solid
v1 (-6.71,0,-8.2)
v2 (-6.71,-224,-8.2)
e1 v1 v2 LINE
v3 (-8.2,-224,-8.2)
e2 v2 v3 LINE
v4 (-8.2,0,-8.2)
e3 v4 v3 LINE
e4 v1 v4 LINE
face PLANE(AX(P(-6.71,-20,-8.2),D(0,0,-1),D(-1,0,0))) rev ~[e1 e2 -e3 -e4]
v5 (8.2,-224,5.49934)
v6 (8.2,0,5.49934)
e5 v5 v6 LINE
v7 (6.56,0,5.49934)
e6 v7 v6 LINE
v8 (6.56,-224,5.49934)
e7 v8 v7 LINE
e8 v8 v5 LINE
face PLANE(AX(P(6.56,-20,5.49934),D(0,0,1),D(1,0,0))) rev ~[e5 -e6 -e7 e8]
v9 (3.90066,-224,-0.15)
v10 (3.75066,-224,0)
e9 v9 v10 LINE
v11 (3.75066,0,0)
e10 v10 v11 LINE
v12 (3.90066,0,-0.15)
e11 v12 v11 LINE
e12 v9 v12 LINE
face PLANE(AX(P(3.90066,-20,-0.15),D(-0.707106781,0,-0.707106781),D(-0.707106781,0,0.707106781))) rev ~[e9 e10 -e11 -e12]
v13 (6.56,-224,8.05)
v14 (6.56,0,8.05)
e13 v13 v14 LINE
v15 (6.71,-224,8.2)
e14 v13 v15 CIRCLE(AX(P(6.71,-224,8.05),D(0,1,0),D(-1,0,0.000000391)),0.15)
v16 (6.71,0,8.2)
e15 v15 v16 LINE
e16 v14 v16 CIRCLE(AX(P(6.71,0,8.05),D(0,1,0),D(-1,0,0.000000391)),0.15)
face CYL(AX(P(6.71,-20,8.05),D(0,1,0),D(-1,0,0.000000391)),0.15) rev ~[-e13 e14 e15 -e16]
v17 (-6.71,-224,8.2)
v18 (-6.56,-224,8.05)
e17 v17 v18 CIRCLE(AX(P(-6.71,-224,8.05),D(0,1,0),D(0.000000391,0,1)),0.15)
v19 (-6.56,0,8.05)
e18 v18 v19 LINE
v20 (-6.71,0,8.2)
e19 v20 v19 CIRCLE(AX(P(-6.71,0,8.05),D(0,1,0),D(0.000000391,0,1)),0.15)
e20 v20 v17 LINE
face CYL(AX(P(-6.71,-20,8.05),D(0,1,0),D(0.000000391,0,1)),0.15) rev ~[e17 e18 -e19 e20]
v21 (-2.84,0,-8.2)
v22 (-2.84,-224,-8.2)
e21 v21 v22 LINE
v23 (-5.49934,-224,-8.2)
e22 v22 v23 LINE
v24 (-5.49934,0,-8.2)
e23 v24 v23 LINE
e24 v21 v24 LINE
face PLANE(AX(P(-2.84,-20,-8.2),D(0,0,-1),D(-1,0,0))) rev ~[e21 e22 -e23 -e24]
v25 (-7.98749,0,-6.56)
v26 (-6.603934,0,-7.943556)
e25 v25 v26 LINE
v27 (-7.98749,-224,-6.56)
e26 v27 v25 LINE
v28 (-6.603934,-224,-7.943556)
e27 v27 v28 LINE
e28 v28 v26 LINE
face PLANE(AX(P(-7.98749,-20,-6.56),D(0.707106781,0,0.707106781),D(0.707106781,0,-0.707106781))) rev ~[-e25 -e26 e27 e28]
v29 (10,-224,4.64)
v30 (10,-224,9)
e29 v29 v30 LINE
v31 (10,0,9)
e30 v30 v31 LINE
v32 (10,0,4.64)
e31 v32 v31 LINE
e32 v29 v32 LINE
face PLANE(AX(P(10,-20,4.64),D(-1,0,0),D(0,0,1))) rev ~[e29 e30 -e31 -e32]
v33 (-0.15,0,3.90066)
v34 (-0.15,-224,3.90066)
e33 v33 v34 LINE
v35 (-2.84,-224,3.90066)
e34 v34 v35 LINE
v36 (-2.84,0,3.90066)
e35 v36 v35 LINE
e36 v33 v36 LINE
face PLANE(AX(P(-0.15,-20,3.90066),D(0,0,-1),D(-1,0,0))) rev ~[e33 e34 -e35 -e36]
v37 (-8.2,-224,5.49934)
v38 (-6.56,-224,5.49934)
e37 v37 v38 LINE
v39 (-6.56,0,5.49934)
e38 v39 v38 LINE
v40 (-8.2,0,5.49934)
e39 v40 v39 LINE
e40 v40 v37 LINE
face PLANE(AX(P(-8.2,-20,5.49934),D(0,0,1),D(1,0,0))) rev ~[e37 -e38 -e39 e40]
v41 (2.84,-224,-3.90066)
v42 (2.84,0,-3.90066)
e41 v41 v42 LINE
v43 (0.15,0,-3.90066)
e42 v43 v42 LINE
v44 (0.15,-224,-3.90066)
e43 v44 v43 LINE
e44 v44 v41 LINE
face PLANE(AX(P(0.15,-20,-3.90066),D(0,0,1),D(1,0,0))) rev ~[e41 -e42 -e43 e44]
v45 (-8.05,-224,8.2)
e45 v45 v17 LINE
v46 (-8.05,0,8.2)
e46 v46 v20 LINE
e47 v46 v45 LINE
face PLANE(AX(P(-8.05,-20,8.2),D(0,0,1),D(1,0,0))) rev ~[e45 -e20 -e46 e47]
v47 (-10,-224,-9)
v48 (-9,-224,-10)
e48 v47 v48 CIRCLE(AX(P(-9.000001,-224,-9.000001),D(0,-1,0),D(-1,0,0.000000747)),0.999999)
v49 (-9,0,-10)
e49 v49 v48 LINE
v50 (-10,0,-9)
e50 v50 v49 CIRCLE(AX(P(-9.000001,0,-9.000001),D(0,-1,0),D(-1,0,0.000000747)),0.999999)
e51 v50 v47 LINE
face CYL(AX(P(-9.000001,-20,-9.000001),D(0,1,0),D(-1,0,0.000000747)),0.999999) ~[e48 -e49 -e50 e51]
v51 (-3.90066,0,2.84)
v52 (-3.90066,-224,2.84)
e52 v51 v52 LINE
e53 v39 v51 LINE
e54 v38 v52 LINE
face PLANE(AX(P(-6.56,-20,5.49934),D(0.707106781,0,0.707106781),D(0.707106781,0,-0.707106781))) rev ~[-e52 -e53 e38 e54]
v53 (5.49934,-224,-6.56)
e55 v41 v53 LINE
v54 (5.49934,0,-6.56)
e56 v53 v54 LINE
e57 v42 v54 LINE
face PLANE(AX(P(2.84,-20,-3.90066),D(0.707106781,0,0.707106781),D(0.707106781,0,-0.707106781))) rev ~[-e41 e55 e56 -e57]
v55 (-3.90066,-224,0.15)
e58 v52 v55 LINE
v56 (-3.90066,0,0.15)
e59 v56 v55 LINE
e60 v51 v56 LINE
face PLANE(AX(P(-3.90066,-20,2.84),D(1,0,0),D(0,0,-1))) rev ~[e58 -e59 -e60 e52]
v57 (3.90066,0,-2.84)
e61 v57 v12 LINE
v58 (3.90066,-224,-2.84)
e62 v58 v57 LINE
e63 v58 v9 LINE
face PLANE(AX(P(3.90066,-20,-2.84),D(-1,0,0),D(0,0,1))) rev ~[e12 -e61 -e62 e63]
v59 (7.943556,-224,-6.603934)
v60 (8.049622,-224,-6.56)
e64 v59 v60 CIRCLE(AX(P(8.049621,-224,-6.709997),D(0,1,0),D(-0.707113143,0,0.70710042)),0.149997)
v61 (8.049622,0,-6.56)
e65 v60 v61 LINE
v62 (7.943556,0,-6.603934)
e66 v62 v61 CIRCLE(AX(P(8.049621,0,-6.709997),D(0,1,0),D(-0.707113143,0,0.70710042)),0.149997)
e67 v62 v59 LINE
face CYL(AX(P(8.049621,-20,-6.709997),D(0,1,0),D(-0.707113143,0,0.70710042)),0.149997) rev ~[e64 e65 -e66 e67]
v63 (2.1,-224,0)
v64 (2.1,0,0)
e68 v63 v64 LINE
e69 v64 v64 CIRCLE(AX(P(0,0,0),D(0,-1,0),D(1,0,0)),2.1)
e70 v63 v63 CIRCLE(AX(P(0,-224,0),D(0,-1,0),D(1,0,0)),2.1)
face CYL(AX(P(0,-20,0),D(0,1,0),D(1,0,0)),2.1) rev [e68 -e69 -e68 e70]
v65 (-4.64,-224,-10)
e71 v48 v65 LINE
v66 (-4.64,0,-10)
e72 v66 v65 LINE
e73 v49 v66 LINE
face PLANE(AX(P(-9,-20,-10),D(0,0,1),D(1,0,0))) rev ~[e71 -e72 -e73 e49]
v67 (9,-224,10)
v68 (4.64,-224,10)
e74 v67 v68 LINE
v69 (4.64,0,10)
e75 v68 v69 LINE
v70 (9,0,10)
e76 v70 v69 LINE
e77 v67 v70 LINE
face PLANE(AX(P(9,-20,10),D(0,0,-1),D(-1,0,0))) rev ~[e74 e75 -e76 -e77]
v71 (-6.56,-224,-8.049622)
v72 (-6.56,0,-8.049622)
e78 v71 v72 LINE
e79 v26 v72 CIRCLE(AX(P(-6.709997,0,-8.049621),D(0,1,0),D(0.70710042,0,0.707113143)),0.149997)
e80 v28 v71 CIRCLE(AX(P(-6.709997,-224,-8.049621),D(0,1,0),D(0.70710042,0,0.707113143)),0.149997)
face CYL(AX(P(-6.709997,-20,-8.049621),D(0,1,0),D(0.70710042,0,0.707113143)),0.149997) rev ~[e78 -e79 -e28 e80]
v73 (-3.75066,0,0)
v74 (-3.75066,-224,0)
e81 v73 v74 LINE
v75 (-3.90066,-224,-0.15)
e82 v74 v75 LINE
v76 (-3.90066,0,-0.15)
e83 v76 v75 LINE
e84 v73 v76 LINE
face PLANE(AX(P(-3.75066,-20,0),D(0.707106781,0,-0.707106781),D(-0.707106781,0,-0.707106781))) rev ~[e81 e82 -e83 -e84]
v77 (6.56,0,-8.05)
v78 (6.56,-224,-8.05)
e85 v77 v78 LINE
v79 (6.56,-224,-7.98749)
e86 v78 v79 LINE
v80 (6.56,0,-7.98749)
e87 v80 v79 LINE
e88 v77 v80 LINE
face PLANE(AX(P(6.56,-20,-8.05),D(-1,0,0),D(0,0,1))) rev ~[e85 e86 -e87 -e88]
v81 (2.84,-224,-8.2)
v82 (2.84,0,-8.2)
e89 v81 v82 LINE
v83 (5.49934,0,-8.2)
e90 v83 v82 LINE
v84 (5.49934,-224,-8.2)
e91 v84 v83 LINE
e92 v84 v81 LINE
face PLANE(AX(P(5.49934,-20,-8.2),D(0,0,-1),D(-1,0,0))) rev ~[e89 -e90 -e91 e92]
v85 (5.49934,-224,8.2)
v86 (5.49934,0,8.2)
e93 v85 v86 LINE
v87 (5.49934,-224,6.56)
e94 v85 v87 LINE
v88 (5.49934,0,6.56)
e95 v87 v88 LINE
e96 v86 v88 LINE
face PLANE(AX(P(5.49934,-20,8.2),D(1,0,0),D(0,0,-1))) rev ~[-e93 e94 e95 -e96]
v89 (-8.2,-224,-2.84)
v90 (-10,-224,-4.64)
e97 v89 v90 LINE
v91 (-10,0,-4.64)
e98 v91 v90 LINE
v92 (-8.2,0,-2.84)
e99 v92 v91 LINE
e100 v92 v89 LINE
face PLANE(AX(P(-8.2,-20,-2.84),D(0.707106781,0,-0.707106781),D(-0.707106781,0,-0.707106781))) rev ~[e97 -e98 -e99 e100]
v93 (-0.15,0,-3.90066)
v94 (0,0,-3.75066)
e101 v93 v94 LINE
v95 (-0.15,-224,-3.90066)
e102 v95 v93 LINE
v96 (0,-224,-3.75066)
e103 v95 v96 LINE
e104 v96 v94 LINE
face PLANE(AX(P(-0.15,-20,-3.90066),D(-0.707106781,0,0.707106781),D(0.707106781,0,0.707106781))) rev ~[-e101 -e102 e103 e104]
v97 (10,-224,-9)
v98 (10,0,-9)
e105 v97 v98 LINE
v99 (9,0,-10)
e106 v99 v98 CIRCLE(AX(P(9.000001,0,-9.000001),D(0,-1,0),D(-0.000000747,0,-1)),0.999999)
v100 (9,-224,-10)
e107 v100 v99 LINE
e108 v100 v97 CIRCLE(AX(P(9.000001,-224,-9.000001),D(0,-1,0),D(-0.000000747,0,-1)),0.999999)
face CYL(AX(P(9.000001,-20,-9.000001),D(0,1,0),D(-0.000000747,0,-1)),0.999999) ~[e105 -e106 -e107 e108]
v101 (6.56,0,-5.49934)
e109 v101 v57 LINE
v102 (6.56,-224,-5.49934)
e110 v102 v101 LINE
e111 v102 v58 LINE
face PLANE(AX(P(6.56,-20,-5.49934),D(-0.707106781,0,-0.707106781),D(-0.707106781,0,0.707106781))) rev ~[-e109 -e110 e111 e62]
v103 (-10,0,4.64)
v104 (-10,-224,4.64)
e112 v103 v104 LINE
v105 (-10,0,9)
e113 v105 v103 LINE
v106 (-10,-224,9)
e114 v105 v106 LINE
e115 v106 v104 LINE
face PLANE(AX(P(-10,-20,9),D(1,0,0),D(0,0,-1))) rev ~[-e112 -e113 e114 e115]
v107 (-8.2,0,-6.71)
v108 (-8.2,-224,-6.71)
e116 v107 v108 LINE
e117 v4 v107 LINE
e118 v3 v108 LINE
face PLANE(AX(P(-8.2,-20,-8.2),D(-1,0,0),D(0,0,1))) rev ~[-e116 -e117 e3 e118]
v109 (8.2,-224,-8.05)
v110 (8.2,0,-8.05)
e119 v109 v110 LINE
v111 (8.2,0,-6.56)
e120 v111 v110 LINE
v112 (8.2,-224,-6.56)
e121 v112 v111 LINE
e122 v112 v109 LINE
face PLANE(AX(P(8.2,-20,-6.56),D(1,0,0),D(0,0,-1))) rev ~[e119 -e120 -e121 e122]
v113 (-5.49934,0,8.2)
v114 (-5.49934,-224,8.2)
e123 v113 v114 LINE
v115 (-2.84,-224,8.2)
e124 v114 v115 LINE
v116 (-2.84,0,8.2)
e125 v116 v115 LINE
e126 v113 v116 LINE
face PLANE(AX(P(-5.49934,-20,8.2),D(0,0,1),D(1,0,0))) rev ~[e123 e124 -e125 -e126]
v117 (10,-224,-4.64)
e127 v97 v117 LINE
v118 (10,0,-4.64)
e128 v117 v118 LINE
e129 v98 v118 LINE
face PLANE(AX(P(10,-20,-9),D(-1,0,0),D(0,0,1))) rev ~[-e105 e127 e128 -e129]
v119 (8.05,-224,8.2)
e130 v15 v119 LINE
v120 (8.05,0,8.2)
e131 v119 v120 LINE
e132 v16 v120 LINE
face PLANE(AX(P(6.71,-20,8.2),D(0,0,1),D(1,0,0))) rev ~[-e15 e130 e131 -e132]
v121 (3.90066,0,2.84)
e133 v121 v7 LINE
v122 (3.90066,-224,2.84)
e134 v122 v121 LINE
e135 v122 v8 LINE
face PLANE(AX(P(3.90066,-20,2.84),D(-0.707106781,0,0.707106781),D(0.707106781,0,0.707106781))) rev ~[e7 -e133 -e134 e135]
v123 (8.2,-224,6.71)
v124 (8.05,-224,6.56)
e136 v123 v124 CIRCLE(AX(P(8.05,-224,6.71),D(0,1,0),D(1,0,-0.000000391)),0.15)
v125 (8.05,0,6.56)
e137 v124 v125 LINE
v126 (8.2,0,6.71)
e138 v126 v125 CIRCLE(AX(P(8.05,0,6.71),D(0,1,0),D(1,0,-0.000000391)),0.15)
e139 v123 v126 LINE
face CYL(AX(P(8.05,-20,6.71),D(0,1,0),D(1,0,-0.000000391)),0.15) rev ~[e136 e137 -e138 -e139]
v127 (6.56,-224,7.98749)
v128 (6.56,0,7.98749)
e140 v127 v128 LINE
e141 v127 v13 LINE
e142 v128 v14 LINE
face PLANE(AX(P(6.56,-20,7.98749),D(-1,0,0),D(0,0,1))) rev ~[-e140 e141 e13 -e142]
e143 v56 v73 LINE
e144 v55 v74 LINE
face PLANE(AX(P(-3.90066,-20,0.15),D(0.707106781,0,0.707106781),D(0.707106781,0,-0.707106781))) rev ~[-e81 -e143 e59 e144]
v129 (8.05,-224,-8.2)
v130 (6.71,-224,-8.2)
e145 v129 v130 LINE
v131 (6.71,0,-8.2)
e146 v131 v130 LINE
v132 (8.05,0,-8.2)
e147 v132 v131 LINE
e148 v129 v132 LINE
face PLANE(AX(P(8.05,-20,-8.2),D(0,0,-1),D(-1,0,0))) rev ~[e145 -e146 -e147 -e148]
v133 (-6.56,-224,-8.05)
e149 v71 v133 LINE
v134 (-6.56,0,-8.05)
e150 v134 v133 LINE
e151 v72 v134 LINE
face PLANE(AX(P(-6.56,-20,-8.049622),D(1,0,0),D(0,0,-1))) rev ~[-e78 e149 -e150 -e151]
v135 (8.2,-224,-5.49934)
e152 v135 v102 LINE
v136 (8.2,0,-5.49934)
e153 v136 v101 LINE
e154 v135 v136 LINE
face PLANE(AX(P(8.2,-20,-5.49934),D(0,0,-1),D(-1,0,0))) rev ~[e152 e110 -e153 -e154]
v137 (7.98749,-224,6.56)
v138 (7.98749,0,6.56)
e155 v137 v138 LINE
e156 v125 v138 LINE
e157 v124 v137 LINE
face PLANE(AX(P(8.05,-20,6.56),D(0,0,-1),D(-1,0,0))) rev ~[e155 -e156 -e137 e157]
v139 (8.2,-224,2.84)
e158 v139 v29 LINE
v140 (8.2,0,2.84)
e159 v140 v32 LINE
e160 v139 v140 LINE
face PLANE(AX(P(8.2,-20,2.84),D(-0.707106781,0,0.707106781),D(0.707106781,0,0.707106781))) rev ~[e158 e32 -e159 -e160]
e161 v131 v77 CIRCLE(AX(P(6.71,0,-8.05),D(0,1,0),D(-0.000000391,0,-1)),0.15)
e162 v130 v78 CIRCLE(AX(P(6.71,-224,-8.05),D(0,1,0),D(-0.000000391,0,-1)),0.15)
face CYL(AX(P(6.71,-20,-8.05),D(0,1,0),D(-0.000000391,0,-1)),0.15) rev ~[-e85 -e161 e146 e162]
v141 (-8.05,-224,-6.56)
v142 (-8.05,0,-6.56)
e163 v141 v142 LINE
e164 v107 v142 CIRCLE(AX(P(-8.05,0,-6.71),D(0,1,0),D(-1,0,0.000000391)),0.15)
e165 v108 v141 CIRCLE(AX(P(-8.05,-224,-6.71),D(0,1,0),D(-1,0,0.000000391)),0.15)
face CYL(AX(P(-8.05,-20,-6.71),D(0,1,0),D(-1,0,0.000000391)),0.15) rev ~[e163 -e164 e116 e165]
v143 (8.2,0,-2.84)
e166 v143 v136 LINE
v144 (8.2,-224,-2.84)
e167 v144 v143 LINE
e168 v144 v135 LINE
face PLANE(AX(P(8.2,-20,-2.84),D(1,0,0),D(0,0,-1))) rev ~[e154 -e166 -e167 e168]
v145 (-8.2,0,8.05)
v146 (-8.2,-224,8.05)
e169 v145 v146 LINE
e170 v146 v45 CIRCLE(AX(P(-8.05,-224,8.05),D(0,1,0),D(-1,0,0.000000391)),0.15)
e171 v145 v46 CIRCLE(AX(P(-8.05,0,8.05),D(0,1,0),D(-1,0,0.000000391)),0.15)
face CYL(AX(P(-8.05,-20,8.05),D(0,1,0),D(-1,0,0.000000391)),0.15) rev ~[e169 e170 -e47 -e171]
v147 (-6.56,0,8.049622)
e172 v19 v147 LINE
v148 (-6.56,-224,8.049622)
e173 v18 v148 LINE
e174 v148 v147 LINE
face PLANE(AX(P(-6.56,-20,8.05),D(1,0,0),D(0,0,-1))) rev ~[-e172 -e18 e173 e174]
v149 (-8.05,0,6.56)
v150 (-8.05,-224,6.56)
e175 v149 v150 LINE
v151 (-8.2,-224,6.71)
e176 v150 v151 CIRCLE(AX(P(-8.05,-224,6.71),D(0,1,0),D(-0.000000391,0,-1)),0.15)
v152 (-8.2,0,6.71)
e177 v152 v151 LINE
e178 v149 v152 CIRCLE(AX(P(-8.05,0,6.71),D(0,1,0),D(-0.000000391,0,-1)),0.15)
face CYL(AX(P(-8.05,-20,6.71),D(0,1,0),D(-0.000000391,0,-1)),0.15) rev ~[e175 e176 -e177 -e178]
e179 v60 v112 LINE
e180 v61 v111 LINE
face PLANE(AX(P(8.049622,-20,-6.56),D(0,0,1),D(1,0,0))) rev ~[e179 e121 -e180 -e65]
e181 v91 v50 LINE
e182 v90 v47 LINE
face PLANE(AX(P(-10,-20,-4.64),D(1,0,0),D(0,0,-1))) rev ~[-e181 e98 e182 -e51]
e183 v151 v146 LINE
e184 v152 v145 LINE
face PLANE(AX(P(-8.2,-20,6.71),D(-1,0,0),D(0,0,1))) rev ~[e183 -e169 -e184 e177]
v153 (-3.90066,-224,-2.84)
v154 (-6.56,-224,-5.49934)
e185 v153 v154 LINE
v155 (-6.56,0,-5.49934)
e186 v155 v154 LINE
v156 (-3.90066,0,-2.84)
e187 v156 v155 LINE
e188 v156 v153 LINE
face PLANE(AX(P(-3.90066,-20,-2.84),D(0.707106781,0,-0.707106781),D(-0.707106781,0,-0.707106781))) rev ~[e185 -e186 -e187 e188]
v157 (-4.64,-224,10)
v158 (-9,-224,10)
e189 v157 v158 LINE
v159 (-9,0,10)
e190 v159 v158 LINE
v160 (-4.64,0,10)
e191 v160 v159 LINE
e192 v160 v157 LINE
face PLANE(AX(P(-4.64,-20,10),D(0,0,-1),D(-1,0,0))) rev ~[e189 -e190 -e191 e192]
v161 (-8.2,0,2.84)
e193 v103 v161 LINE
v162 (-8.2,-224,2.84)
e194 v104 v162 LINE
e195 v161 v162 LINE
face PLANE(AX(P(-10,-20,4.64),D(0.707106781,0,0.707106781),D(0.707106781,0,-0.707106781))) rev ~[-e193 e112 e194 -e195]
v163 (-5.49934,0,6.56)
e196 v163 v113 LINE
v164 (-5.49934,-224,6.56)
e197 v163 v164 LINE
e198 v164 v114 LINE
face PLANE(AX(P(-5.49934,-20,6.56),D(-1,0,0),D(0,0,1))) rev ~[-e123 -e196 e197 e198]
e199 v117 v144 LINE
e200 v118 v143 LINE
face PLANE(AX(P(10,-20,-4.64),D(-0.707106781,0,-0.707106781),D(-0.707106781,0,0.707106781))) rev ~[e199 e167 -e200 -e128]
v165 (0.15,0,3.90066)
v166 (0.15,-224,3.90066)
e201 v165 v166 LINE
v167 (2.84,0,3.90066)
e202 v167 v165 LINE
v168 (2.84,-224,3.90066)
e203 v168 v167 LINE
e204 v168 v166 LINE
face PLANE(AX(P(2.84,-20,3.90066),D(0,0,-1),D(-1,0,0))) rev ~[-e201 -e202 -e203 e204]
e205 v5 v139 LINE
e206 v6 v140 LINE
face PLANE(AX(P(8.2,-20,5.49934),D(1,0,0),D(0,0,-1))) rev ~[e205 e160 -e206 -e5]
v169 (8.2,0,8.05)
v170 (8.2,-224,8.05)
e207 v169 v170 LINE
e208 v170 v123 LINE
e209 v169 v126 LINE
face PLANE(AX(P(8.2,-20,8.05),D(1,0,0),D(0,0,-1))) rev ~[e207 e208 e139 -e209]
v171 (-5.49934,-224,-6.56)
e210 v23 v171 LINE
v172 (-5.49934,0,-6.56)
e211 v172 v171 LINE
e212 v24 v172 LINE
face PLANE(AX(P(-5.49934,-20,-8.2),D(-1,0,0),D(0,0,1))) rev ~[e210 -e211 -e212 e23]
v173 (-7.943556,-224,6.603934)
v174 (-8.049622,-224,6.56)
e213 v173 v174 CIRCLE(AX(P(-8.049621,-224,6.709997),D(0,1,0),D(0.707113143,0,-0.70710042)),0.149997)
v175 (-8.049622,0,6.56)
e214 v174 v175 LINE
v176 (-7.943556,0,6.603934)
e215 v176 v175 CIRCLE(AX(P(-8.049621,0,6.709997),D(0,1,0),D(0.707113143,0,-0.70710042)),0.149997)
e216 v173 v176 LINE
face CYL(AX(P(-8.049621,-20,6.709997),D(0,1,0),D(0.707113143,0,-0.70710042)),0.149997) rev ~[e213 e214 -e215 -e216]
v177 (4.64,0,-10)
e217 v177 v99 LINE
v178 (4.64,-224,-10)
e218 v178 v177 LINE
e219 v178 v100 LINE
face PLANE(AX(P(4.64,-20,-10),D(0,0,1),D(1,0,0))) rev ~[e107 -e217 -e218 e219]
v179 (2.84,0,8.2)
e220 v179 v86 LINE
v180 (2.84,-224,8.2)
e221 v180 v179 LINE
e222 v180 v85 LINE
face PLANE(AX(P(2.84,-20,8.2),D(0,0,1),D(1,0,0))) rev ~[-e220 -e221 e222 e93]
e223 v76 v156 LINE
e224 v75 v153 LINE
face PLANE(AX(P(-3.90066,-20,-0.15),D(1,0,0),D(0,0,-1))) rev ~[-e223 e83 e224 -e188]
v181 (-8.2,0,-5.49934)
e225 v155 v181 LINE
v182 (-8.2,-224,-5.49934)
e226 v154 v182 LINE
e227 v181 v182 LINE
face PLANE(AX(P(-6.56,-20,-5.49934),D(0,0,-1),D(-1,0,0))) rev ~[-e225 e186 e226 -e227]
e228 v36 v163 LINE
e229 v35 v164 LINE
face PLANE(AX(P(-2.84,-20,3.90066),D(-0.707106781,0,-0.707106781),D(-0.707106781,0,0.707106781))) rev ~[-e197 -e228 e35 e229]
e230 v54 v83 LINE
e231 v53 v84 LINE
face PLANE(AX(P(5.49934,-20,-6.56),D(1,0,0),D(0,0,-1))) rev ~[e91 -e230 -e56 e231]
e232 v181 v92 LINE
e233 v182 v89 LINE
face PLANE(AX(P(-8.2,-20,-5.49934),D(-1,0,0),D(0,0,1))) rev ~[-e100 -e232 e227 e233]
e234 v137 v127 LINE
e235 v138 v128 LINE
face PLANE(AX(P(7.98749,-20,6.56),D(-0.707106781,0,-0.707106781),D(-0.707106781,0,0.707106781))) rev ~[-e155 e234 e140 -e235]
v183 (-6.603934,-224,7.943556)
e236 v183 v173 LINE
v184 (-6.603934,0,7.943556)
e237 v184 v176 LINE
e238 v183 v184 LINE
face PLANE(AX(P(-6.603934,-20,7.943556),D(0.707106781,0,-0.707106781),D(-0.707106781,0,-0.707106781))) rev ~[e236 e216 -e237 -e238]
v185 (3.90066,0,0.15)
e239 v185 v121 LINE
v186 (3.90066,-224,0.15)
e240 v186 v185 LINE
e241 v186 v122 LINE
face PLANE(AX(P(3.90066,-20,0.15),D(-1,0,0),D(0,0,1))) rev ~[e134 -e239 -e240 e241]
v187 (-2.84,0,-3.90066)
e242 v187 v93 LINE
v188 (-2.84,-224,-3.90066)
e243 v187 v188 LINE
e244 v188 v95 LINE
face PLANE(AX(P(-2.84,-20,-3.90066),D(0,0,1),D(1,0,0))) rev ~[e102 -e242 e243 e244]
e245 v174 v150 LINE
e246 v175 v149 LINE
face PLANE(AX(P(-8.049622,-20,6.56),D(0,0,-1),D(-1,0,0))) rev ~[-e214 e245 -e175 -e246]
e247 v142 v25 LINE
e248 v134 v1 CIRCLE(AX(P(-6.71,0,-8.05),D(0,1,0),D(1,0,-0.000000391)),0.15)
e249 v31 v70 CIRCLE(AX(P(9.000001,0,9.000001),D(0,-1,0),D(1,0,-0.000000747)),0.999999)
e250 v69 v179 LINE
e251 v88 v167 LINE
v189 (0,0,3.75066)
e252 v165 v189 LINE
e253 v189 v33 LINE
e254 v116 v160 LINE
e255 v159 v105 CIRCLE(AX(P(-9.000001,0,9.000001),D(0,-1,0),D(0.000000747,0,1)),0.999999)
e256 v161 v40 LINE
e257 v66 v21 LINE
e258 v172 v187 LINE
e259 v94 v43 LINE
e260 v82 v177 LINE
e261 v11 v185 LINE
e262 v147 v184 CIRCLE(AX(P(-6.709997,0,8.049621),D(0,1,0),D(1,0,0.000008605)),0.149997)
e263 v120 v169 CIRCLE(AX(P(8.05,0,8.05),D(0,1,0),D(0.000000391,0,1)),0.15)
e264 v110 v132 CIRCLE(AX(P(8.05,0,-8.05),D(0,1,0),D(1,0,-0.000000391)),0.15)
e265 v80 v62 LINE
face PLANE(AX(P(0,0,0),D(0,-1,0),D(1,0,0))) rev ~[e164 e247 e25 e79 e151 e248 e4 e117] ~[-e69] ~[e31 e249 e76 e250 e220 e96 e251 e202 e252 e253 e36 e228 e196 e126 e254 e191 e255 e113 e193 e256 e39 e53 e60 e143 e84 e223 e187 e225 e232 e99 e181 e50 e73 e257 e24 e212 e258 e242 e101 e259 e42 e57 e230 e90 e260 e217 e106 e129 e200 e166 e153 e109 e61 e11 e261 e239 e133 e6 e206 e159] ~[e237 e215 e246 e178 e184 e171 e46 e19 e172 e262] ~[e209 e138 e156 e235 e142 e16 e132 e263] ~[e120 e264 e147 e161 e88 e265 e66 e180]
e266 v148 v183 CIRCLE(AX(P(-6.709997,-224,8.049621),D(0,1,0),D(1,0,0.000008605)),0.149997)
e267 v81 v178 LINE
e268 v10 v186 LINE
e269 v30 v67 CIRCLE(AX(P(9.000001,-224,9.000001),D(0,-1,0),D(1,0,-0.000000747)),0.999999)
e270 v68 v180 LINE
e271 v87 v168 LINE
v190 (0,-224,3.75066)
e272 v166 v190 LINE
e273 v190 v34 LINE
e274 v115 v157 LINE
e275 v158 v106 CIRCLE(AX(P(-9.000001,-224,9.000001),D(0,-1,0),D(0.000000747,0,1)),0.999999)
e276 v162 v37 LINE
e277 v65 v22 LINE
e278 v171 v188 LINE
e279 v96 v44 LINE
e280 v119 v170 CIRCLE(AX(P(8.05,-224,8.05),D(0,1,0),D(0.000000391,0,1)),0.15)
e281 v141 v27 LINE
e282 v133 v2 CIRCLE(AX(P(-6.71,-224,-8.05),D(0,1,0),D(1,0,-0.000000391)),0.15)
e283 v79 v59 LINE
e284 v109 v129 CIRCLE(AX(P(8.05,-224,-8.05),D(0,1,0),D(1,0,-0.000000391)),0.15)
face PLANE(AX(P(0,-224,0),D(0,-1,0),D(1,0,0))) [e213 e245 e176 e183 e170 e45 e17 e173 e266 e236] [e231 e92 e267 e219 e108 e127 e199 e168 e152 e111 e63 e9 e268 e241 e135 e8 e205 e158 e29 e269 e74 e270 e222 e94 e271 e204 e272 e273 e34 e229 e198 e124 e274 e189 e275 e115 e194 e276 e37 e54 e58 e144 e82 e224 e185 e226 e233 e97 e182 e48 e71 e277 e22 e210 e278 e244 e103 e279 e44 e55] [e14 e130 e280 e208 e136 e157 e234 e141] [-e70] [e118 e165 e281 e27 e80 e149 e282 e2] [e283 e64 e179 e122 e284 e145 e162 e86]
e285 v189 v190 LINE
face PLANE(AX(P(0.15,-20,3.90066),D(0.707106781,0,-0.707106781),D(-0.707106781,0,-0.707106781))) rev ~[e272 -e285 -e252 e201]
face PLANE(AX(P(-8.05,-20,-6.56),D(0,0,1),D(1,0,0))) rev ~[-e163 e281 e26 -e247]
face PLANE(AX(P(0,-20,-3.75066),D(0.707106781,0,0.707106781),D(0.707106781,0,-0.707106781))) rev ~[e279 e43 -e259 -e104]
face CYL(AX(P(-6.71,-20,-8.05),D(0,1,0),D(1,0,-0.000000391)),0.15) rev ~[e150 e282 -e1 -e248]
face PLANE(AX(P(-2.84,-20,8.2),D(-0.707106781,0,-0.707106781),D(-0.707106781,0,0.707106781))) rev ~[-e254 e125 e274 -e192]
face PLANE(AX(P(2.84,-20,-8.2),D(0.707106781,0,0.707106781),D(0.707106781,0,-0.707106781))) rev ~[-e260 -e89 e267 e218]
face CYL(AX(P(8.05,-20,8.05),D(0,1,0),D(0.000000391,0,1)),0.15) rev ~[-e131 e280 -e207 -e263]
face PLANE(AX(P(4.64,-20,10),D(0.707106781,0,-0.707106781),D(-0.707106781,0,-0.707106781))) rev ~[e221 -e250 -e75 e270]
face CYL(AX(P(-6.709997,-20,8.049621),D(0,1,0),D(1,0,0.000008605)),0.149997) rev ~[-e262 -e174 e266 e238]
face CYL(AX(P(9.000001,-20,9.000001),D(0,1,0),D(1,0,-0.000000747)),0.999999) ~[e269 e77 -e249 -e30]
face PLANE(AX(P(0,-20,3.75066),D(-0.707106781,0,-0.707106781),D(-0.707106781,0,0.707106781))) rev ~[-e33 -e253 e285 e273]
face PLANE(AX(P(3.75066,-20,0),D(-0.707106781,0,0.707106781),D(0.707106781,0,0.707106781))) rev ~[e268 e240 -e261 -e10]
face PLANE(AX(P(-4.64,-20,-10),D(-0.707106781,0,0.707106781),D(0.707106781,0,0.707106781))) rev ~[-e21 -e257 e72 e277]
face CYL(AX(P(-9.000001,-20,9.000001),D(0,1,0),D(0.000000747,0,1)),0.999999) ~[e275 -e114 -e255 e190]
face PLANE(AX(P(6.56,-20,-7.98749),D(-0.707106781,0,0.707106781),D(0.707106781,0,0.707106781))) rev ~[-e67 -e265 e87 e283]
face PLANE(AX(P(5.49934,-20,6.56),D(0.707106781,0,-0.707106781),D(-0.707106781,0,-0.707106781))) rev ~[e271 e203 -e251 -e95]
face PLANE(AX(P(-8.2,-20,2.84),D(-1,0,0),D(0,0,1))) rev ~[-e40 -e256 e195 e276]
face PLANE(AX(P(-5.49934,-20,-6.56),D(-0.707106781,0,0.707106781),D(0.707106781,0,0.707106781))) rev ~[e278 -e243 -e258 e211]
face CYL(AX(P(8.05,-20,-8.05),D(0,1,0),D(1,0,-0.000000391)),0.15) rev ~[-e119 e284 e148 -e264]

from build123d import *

# Parameters (mm, degrees)
F0_R      = 2.1
F1_DEPTH  = 20
F1_FACE_R = 2.1
F2_DEPTH  = 204


with BuildPart() as f1:
    # F0 (on Front) → F1 (new body)
    with BuildSketch(Plane.XZ):
        with BuildLine():
            Line((-4.64, 10), (-9, 10))
            ThreePointArc((-9, 10), (-9.707107, 9.707107), (-10, 9))
            Line((-10, 9), (-10, 4.64))
            Line((-10, 4.64), (-8.2, 2.84))
            Line((-8.2, 2.84), (-8.2, 5.49934))
            Line((-8.2, 5.49934), (-6.56, 5.49934))
            Line((-6.56, 5.49934), (-3.90066, 2.84))
            Line((-3.90066, 2.84), (-3.90066, 0.15))
            Line((-3.90066, 0.15), (-3.75066, 0))
            Line((-3.75066, 0), (-3.90066, -0.15))
            Line((-3.90066, -0.15), (-3.90066, -2.84))
            Line((-3.90066, -2.84), (-6.56, -5.49934))
            Line((-6.56, -5.49934), (-8.2, -5.49934))
            Line((-8.2, -5.49934), (-8.2, -2.84))
            Line((-8.2, -2.84), (-10, -4.64))
            Line((-10, -4.64), (-10, -9))
            ThreePointArc((-10, -9), (-9.707107, -9.707107), (-9, -10))
            Line((-9, -10), (-4.64, -10))
            Line((-4.64, -10), (-2.84, -8.2))
            Line((-2.84, -8.2), (-5.49934, -8.2))
            Line((-5.49934, -8.2), (-5.49934, -6.56))
            Line((-5.49934, -6.56), (-2.84, -3.90066))
            Line((-2.84, -3.90066), (-0.15, -3.90066))
            Line((-0.15, -3.90066), (0, -3.75066))
            Line((0, -3.75066), (0.15, -3.90066))
            Line((0.15, -3.90066), (2.84, -3.90066))
            Line((2.84, -3.90066), (5.49934, -6.56))
            Line((5.49934, -6.56), (5.49934, -8.2))
            Line((5.49934, -8.2), (2.84, -8.2))
            Line((2.84, -8.2), (4.64, -10))
            Line((4.64, -10), (9, -10))
            ThreePointArc((9, -10), (9.707107, -9.707107), (10, -9))
            Line((10, -9), (10, -4.64))
            Line((10, -4.64), (8.2, -2.84))
            Line((8.2, -2.84), (8.2, -5.49934))
            Line((8.2, -5.49934), (6.56, -5.49934))
            Line((6.56, -5.49934), (3.90066, -2.84))
            Line((3.90066, -2.84), (3.90066, -0.15))
            Line((3.90066, -0.15), (3.75066, 0))
            Line((3.75066, 0), (3.90066, 0.15))
            Line((3.90066, 0.15), (3.90066, 2.84))
            Line((3.90066, 2.84), (6.56, 5.49934))
            Line((6.56, 5.49934), (8.2, 5.49934))
            Line((8.2, 5.49934), (8.2, 2.84))
            Line((8.2, 2.84), (10, 4.64))
            Line((10, 4.64), (10, 9))
            ThreePointArc((10, 9), (9.707107, 9.707107), (9, 10))
            Line((9, 10), (4.64, 10))
            Line((4.64, 10), (2.84, 8.2))
            Line((2.84, 8.2), (5.49934, 8.2))
            Line((5.49934, 8.2), (5.49934, 6.56))
            Line((5.49934, 6.56), (2.84, 3.90066))
            Line((2.84, 3.90066), (0.15, 3.90066))
            Line((0.15, 3.90066), (0, 3.75066))
            Line((0, 3.75066), (-0.15, 3.90066))
            Line((-0.15, 3.90066), (-2.84, 3.90066))
            Line((-2.84, 3.90066), (-5.49934, 6.56))
            Line((-5.49934, 6.56), (-5.49934, 8.2))
            Line((-5.49934, 8.2), (-2.84, 8.2))
            Line((-2.84, 8.2), (-4.64, 10))
        make_face()
        with BuildLine():
            Line((-8.2, -8.2), (-8.2, -6.71))
            ThreePointArc((-8.2, -6.71), (-8.156066, -6.603934), (-8.05, -6.56))
            Line((-8.05, -6.56), (-7.98749, -6.56))
            Line((-7.98749, -6.56), (-6.603934, -7.943556))
            ThreePointArc((-6.603934, -7.943556), (-6.571418, -7.992219), (-6.56, -8.049622))
            Line((-6.56, -8.049622), (-6.56, -8.05))
            ThreePointArc((-6.56, -8.05), (-6.603934, -8.156066), (-6.71, -8.2))
            Line((-6.71, -8.2), (-8.2, -8.2))
        make_face(mode=Mode.SUBTRACT)
        with BuildLine():
            ThreePointArc((6.71, -8.2), (6.603934, -8.156066), (6.56, -8.05))
            Line((6.56, -8.05), (6.56, -7.98749))
            Line((6.56, -7.98749), (7.943556, -6.603934))
            ThreePointArc((7.943556, -6.603934), (7.992219, -6.571418), (8.049622, -6.56))
            Line((8.049622, -6.56), (8.2, -6.56))
            Line((8.2, -6.56), (8.2, -8.05))
            ThreePointArc((8.2, -8.05), (8.156066, -8.156066), (8.05, -8.2))
            Line((8.05, -8.2), (6.71, -8.2))
        make_face(mode=Mode.SUBTRACT)
        with BuildLine():
            ThreePointArc((-8.2, 8.05), (-8.156066, 8.156066), (-8.05, 8.2))
            Line((-8.05, 8.2), (-6.71, 8.2))
            ThreePointArc((-6.71, 8.2), (-6.603934, 8.156066), (-6.56, 8.05))
            Line((-6.56, 8.05), (-6.56, 8.049622))
            ThreePointArc((-6.56, 8.049622), (-6.571418, 7.992219), (-6.603934, 7.943556))
            Line((-6.603934, 7.943556), (-7.943556, 6.603934))
            ThreePointArc((-7.943556, 6.603934), (-7.992219, 6.571418), (-8.049622, 6.56))
            Line((-8.049622, 6.56), (-8.05, 6.56))
            ThreePointArc((-8.05, 6.56), (-8.156066, 6.603934), (-8.2, 6.71))
            Line((-8.2, 6.71), (-8.2, 8.05))
        make_face(mode=Mode.SUBTRACT)
        Circle(F0_R, mode=Mode.SUBTRACT)
        with BuildLine():
            Line((8.2, 8.05), (8.2, 6.71))
            ThreePointArc((8.2, 6.71), (8.156066, 6.603934), (8.05, 6.56))
            Line((8.05, 6.56), (7.98749, 6.56))
            Line((7.98749, 6.56), (6.56, 7.98749))
            Line((6.56, 7.98749), (6.56, 8.05))
            ThreePointArc((6.56, 8.05), (6.603934, 8.156066), (6.71, 8.2))
            Line((6.71, 8.2), (8.05, 8.2))
            ThreePointArc((8.05, 8.2), (8.156066, 8.156066), (8.2, 8.05))
        make_face(mode=Mode.SUBTRACT)
    extrude(amount=F1_DEPTH)

    # F1_face (on face) → F2 (join)
    with BuildSketch(Plane(origin=(-3.9e-05, -20, 0.000435), x_dir=(1, 0, 0), z_dir=(0, -1, 0))):
        with BuildLine():
            Line((2.840039, 3.900225), (0.150039, 3.900225))
            Line((0.150039, 3.900225), (3.9e-05, 3.750225))
            Line((3.9e-05, 3.750225), (-0.149961, 3.900225))
            Line((-0.149961, 3.900225), (-2.839961, 3.900225))
            Line((-2.839961, 3.900225), (-5.499301, 6.559565))
            Line((-5.499301, 6.559565), (-5.499301, 8.199565))
            Line((-5.499301, 8.199565), (-2.839961, 8.199565))
            Line((-2.839961, 8.199565), (-4.639961, 9.999565))
            Line((-4.639961, 9.999565), (-8.999961, 9.999565))
            ThreePointArc((-8.999961, 9.999565), (-9.707068, 9.706672), (-9.999961, 8.999565))
            Line((-9.999961, 8.999565), (-9.999961, 4.639565))
            Line((-9.999961, 4.639565), (-8.199961, 2.839565))
            Line((-8.199961, 2.839565), (-8.199961, 5.498905))
            Line((-8.199961, 5.498905), (-6.559961, 5.498905))
            Line((-6.559961, 5.498905), (-3.900621, 2.839565))
            Line((-3.900621, 2.839565), (-3.900621, 0.149565))
            Line((-3.900621, 0.149565), (-3.750621, -0.000435))
            Line((-3.750621, -0.000435), (-3.900621, -0.150435))
            Line((-3.900621, -0.150435), (-3.900621, -2.840435))
            Line((-3.900621, -2.840435), (-6.559961, -5.499775))
            Line((-6.559961, -5.499775), (-8.199961, -5.499775))
            Line((-8.199961, -5.499775), (-8.199961, -2.840435))
            Line((-8.199961, -2.840435), (-9.999961, -4.640435))
            Line((-9.999961, -4.640435), (-9.999961, -9.000435))
            ThreePointArc((-9.999961, -9.000435), (-9.707068, -9.707542), (-8.999961, -10.000435))
            Line((-8.999961, -10.000435), (-4.639961, -10.000435))
            Line((-4.639961, -10.000435), (-2.839961, -8.200435))
            Line((-2.839961, -8.200435), (-5.499301, -8.200435))
            Line((-5.499301, -8.200435), (-5.499301, -6.560435))
            Line((-5.499301, -6.560435), (-2.839961, -3.901095))
            Line((-2.839961, -3.901095), (-0.149961, -3.901095))
            Line((-0.149961, -3.901095), (3.9e-05, -3.751095))
            Line((3.9e-05, -3.751095), (0.150039, -3.901095))
            Line((0.150039, -3.901095), (2.840039, -3.901095))
            Line((2.840039, -3.901095), (5.499379, -6.560435))
            Line((5.499379, -6.560435), (5.499379, -8.200435))
            Line((5.499379, -8.200435), (2.840039, -8.200435))
            Line((2.840039, -8.200435), (4.640039, -10.000435))
            Line((4.640039, -10.000435), (9.000039, -10.000435))
            ThreePointArc((9.000039, -10.000435), (9.707146, -9.707542), (10.000039, -9.000435))
            Line((10.000039, -9.000435), (10.000039, -4.640435))
            Line((10.000039, -4.640435), (8.200039, -2.840435))
            Line((8.200039, -2.840435), (8.200039, -5.499775))
            Line((8.200039, -5.499775), (6.560039, -5.499775))
            Line((6.560039, -5.499775), (3.900699, -2.840435))
            Line((3.900699, -2.840435), (3.900699, -0.150435))
            Line((3.900699, -0.150435), (3.750699, -0.000435))
            Line((3.750699, -0.000435), (3.900699, 0.149565))
            Line((3.900699, 0.149565), (3.900699, 2.839565))
            Line((3.900699, 2.839565), (6.560039, 5.498905))
            Line((6.560039, 5.498905), (8.200039, 5.498905))
            Line((8.200039, 5.498905), (8.200039, 2.839565))
            Line((8.200039, 2.839565), (10.000039, 4.639565))
            Line((10.000039, 4.639565), (10.000039, 8.999565))
            ThreePointArc((10.000039, 8.999565), (9.707146, 9.706672), (9.000039, 9.999565))
            Line((9.000039, 9.999565), (4.640039, 9.999565))
            Line((4.640039, 9.999565), (2.840039, 8.199565))
            Line((2.840039, 8.199565), (5.499379, 8.199565))
            Line((5.499379, 8.199565), (5.499379, 6.559565))
            Line((5.499379, 6.559565), (2.840039, 3.900225))
        make_face()
        with BuildLine():
            ThreePointArc((-6.559961, -8.050435), (-6.603895, -8.156501), (-6.709961, -8.200435))
            Line((-6.709961, -8.200435), (-8.199961, -8.200435))
            Line((-8.199961, -8.200435), (-8.199961, -6.710435))
            ThreePointArc((-8.199961, -6.710435), (-8.156027, -6.604369), (-8.049961, -6.560435))
            Line((-8.049961, -6.560435), (-7.987451, -6.560435))
            Line((-7.987451, -6.560435), (-6.603895, -7.943991))
            ThreePointArc((-6.603895, -7.943991), (-6.571379, -7.992654), (-6.559961, -8.050057))
            Line((-6.559961, -8.050057), (-6.559961, -8.050435))
        make_face(mode=Mode.SUBTRACT)
        with BuildLine():
            ThreePointArc((6.710039, -8.200435), (6.603973, -8.156501), (6.560039, -8.050435))
            Line((6.560039, -8.050435), (6.560039, -7.987925))
            Line((6.560039, -7.987925), (7.943595, -6.604369))
            ThreePointArc((7.943595, -6.604369), (7.992258, -6.571853), (8.049661, -6.560435))
            Line((8.049661, -6.560435), (8.200039, -6.560435))
            Line((8.200039, -6.560435), (8.200039, -8.050435))
            ThreePointArc((8.200039, -8.050435), (8.156105, -8.156501), (8.050039, -8.200435))
            Line((8.050039, -8.200435), (6.710039, -8.200435))
        make_face(mode=Mode.SUBTRACT)
        with BuildLine():
            ThreePointArc((-8.049961, 6.559565), (-8.156027, 6.603499), (-8.199961, 6.709565))
            Line((-8.199961, 6.709565), (-8.199961, 8.049565))
            ThreePointArc((-8.199961, 8.049565), (-8.156027, 8.155631), (-8.049961, 8.199565))
            Line((-8.049961, 8.199565), (-6.709961, 8.199565))
            ThreePointArc((-6.709961, 8.199565), (-6.603895, 8.155631), (-6.559961, 8.049565))
            Line((-6.559961, 8.049565), (-6.559961, 8.049187))
            ThreePointArc((-6.559961, 8.049187), (-6.571379, 7.991784), (-6.603895, 7.943121))
            Line((-6.603895, 7.943121), (-7.943517, 6.603499))
            ThreePointArc((-7.943517, 6.603499), (-7.99218, 6.570983), (-8.049583, 6.559565))
            Line((-8.049583, 6.559565), (-8.049961, 6.559565))
        make_face(mode=Mode.SUBTRACT)
        with Locations((3.9e-05, -0.000435)):
            Circle(F1_FACE_R, mode=Mode.SUBTRACT)
        with BuildLine():
            Line((8.200039, 8.049565), (8.200039, 6.709565))
            ThreePointArc((8.200039, 6.709565), (8.156105, 6.603499), (8.050039, 6.559565))
            Line((8.050039, 6.559565), (7.987529, 6.559565))
            Line((7.987529, 6.559565), (6.560039, 7.987055))
            Line((6.560039, 7.987055), (6.560039, 8.049565))
            ThreePointArc((6.560039, 8.049565), (6.603973, 8.155631), (6.710039, 8.199565))
            Line((6.710039, 8.199565), (8.050039, 8.199565))
            ThreePointArc((8.050039, 8.199565), (8.156105, 8.155631), (8.200039, 8.049565))
        make_face(mode=Mode.SUBTRACT)
    extrude(amount=F2_DEPTH)


solid = f1.part
